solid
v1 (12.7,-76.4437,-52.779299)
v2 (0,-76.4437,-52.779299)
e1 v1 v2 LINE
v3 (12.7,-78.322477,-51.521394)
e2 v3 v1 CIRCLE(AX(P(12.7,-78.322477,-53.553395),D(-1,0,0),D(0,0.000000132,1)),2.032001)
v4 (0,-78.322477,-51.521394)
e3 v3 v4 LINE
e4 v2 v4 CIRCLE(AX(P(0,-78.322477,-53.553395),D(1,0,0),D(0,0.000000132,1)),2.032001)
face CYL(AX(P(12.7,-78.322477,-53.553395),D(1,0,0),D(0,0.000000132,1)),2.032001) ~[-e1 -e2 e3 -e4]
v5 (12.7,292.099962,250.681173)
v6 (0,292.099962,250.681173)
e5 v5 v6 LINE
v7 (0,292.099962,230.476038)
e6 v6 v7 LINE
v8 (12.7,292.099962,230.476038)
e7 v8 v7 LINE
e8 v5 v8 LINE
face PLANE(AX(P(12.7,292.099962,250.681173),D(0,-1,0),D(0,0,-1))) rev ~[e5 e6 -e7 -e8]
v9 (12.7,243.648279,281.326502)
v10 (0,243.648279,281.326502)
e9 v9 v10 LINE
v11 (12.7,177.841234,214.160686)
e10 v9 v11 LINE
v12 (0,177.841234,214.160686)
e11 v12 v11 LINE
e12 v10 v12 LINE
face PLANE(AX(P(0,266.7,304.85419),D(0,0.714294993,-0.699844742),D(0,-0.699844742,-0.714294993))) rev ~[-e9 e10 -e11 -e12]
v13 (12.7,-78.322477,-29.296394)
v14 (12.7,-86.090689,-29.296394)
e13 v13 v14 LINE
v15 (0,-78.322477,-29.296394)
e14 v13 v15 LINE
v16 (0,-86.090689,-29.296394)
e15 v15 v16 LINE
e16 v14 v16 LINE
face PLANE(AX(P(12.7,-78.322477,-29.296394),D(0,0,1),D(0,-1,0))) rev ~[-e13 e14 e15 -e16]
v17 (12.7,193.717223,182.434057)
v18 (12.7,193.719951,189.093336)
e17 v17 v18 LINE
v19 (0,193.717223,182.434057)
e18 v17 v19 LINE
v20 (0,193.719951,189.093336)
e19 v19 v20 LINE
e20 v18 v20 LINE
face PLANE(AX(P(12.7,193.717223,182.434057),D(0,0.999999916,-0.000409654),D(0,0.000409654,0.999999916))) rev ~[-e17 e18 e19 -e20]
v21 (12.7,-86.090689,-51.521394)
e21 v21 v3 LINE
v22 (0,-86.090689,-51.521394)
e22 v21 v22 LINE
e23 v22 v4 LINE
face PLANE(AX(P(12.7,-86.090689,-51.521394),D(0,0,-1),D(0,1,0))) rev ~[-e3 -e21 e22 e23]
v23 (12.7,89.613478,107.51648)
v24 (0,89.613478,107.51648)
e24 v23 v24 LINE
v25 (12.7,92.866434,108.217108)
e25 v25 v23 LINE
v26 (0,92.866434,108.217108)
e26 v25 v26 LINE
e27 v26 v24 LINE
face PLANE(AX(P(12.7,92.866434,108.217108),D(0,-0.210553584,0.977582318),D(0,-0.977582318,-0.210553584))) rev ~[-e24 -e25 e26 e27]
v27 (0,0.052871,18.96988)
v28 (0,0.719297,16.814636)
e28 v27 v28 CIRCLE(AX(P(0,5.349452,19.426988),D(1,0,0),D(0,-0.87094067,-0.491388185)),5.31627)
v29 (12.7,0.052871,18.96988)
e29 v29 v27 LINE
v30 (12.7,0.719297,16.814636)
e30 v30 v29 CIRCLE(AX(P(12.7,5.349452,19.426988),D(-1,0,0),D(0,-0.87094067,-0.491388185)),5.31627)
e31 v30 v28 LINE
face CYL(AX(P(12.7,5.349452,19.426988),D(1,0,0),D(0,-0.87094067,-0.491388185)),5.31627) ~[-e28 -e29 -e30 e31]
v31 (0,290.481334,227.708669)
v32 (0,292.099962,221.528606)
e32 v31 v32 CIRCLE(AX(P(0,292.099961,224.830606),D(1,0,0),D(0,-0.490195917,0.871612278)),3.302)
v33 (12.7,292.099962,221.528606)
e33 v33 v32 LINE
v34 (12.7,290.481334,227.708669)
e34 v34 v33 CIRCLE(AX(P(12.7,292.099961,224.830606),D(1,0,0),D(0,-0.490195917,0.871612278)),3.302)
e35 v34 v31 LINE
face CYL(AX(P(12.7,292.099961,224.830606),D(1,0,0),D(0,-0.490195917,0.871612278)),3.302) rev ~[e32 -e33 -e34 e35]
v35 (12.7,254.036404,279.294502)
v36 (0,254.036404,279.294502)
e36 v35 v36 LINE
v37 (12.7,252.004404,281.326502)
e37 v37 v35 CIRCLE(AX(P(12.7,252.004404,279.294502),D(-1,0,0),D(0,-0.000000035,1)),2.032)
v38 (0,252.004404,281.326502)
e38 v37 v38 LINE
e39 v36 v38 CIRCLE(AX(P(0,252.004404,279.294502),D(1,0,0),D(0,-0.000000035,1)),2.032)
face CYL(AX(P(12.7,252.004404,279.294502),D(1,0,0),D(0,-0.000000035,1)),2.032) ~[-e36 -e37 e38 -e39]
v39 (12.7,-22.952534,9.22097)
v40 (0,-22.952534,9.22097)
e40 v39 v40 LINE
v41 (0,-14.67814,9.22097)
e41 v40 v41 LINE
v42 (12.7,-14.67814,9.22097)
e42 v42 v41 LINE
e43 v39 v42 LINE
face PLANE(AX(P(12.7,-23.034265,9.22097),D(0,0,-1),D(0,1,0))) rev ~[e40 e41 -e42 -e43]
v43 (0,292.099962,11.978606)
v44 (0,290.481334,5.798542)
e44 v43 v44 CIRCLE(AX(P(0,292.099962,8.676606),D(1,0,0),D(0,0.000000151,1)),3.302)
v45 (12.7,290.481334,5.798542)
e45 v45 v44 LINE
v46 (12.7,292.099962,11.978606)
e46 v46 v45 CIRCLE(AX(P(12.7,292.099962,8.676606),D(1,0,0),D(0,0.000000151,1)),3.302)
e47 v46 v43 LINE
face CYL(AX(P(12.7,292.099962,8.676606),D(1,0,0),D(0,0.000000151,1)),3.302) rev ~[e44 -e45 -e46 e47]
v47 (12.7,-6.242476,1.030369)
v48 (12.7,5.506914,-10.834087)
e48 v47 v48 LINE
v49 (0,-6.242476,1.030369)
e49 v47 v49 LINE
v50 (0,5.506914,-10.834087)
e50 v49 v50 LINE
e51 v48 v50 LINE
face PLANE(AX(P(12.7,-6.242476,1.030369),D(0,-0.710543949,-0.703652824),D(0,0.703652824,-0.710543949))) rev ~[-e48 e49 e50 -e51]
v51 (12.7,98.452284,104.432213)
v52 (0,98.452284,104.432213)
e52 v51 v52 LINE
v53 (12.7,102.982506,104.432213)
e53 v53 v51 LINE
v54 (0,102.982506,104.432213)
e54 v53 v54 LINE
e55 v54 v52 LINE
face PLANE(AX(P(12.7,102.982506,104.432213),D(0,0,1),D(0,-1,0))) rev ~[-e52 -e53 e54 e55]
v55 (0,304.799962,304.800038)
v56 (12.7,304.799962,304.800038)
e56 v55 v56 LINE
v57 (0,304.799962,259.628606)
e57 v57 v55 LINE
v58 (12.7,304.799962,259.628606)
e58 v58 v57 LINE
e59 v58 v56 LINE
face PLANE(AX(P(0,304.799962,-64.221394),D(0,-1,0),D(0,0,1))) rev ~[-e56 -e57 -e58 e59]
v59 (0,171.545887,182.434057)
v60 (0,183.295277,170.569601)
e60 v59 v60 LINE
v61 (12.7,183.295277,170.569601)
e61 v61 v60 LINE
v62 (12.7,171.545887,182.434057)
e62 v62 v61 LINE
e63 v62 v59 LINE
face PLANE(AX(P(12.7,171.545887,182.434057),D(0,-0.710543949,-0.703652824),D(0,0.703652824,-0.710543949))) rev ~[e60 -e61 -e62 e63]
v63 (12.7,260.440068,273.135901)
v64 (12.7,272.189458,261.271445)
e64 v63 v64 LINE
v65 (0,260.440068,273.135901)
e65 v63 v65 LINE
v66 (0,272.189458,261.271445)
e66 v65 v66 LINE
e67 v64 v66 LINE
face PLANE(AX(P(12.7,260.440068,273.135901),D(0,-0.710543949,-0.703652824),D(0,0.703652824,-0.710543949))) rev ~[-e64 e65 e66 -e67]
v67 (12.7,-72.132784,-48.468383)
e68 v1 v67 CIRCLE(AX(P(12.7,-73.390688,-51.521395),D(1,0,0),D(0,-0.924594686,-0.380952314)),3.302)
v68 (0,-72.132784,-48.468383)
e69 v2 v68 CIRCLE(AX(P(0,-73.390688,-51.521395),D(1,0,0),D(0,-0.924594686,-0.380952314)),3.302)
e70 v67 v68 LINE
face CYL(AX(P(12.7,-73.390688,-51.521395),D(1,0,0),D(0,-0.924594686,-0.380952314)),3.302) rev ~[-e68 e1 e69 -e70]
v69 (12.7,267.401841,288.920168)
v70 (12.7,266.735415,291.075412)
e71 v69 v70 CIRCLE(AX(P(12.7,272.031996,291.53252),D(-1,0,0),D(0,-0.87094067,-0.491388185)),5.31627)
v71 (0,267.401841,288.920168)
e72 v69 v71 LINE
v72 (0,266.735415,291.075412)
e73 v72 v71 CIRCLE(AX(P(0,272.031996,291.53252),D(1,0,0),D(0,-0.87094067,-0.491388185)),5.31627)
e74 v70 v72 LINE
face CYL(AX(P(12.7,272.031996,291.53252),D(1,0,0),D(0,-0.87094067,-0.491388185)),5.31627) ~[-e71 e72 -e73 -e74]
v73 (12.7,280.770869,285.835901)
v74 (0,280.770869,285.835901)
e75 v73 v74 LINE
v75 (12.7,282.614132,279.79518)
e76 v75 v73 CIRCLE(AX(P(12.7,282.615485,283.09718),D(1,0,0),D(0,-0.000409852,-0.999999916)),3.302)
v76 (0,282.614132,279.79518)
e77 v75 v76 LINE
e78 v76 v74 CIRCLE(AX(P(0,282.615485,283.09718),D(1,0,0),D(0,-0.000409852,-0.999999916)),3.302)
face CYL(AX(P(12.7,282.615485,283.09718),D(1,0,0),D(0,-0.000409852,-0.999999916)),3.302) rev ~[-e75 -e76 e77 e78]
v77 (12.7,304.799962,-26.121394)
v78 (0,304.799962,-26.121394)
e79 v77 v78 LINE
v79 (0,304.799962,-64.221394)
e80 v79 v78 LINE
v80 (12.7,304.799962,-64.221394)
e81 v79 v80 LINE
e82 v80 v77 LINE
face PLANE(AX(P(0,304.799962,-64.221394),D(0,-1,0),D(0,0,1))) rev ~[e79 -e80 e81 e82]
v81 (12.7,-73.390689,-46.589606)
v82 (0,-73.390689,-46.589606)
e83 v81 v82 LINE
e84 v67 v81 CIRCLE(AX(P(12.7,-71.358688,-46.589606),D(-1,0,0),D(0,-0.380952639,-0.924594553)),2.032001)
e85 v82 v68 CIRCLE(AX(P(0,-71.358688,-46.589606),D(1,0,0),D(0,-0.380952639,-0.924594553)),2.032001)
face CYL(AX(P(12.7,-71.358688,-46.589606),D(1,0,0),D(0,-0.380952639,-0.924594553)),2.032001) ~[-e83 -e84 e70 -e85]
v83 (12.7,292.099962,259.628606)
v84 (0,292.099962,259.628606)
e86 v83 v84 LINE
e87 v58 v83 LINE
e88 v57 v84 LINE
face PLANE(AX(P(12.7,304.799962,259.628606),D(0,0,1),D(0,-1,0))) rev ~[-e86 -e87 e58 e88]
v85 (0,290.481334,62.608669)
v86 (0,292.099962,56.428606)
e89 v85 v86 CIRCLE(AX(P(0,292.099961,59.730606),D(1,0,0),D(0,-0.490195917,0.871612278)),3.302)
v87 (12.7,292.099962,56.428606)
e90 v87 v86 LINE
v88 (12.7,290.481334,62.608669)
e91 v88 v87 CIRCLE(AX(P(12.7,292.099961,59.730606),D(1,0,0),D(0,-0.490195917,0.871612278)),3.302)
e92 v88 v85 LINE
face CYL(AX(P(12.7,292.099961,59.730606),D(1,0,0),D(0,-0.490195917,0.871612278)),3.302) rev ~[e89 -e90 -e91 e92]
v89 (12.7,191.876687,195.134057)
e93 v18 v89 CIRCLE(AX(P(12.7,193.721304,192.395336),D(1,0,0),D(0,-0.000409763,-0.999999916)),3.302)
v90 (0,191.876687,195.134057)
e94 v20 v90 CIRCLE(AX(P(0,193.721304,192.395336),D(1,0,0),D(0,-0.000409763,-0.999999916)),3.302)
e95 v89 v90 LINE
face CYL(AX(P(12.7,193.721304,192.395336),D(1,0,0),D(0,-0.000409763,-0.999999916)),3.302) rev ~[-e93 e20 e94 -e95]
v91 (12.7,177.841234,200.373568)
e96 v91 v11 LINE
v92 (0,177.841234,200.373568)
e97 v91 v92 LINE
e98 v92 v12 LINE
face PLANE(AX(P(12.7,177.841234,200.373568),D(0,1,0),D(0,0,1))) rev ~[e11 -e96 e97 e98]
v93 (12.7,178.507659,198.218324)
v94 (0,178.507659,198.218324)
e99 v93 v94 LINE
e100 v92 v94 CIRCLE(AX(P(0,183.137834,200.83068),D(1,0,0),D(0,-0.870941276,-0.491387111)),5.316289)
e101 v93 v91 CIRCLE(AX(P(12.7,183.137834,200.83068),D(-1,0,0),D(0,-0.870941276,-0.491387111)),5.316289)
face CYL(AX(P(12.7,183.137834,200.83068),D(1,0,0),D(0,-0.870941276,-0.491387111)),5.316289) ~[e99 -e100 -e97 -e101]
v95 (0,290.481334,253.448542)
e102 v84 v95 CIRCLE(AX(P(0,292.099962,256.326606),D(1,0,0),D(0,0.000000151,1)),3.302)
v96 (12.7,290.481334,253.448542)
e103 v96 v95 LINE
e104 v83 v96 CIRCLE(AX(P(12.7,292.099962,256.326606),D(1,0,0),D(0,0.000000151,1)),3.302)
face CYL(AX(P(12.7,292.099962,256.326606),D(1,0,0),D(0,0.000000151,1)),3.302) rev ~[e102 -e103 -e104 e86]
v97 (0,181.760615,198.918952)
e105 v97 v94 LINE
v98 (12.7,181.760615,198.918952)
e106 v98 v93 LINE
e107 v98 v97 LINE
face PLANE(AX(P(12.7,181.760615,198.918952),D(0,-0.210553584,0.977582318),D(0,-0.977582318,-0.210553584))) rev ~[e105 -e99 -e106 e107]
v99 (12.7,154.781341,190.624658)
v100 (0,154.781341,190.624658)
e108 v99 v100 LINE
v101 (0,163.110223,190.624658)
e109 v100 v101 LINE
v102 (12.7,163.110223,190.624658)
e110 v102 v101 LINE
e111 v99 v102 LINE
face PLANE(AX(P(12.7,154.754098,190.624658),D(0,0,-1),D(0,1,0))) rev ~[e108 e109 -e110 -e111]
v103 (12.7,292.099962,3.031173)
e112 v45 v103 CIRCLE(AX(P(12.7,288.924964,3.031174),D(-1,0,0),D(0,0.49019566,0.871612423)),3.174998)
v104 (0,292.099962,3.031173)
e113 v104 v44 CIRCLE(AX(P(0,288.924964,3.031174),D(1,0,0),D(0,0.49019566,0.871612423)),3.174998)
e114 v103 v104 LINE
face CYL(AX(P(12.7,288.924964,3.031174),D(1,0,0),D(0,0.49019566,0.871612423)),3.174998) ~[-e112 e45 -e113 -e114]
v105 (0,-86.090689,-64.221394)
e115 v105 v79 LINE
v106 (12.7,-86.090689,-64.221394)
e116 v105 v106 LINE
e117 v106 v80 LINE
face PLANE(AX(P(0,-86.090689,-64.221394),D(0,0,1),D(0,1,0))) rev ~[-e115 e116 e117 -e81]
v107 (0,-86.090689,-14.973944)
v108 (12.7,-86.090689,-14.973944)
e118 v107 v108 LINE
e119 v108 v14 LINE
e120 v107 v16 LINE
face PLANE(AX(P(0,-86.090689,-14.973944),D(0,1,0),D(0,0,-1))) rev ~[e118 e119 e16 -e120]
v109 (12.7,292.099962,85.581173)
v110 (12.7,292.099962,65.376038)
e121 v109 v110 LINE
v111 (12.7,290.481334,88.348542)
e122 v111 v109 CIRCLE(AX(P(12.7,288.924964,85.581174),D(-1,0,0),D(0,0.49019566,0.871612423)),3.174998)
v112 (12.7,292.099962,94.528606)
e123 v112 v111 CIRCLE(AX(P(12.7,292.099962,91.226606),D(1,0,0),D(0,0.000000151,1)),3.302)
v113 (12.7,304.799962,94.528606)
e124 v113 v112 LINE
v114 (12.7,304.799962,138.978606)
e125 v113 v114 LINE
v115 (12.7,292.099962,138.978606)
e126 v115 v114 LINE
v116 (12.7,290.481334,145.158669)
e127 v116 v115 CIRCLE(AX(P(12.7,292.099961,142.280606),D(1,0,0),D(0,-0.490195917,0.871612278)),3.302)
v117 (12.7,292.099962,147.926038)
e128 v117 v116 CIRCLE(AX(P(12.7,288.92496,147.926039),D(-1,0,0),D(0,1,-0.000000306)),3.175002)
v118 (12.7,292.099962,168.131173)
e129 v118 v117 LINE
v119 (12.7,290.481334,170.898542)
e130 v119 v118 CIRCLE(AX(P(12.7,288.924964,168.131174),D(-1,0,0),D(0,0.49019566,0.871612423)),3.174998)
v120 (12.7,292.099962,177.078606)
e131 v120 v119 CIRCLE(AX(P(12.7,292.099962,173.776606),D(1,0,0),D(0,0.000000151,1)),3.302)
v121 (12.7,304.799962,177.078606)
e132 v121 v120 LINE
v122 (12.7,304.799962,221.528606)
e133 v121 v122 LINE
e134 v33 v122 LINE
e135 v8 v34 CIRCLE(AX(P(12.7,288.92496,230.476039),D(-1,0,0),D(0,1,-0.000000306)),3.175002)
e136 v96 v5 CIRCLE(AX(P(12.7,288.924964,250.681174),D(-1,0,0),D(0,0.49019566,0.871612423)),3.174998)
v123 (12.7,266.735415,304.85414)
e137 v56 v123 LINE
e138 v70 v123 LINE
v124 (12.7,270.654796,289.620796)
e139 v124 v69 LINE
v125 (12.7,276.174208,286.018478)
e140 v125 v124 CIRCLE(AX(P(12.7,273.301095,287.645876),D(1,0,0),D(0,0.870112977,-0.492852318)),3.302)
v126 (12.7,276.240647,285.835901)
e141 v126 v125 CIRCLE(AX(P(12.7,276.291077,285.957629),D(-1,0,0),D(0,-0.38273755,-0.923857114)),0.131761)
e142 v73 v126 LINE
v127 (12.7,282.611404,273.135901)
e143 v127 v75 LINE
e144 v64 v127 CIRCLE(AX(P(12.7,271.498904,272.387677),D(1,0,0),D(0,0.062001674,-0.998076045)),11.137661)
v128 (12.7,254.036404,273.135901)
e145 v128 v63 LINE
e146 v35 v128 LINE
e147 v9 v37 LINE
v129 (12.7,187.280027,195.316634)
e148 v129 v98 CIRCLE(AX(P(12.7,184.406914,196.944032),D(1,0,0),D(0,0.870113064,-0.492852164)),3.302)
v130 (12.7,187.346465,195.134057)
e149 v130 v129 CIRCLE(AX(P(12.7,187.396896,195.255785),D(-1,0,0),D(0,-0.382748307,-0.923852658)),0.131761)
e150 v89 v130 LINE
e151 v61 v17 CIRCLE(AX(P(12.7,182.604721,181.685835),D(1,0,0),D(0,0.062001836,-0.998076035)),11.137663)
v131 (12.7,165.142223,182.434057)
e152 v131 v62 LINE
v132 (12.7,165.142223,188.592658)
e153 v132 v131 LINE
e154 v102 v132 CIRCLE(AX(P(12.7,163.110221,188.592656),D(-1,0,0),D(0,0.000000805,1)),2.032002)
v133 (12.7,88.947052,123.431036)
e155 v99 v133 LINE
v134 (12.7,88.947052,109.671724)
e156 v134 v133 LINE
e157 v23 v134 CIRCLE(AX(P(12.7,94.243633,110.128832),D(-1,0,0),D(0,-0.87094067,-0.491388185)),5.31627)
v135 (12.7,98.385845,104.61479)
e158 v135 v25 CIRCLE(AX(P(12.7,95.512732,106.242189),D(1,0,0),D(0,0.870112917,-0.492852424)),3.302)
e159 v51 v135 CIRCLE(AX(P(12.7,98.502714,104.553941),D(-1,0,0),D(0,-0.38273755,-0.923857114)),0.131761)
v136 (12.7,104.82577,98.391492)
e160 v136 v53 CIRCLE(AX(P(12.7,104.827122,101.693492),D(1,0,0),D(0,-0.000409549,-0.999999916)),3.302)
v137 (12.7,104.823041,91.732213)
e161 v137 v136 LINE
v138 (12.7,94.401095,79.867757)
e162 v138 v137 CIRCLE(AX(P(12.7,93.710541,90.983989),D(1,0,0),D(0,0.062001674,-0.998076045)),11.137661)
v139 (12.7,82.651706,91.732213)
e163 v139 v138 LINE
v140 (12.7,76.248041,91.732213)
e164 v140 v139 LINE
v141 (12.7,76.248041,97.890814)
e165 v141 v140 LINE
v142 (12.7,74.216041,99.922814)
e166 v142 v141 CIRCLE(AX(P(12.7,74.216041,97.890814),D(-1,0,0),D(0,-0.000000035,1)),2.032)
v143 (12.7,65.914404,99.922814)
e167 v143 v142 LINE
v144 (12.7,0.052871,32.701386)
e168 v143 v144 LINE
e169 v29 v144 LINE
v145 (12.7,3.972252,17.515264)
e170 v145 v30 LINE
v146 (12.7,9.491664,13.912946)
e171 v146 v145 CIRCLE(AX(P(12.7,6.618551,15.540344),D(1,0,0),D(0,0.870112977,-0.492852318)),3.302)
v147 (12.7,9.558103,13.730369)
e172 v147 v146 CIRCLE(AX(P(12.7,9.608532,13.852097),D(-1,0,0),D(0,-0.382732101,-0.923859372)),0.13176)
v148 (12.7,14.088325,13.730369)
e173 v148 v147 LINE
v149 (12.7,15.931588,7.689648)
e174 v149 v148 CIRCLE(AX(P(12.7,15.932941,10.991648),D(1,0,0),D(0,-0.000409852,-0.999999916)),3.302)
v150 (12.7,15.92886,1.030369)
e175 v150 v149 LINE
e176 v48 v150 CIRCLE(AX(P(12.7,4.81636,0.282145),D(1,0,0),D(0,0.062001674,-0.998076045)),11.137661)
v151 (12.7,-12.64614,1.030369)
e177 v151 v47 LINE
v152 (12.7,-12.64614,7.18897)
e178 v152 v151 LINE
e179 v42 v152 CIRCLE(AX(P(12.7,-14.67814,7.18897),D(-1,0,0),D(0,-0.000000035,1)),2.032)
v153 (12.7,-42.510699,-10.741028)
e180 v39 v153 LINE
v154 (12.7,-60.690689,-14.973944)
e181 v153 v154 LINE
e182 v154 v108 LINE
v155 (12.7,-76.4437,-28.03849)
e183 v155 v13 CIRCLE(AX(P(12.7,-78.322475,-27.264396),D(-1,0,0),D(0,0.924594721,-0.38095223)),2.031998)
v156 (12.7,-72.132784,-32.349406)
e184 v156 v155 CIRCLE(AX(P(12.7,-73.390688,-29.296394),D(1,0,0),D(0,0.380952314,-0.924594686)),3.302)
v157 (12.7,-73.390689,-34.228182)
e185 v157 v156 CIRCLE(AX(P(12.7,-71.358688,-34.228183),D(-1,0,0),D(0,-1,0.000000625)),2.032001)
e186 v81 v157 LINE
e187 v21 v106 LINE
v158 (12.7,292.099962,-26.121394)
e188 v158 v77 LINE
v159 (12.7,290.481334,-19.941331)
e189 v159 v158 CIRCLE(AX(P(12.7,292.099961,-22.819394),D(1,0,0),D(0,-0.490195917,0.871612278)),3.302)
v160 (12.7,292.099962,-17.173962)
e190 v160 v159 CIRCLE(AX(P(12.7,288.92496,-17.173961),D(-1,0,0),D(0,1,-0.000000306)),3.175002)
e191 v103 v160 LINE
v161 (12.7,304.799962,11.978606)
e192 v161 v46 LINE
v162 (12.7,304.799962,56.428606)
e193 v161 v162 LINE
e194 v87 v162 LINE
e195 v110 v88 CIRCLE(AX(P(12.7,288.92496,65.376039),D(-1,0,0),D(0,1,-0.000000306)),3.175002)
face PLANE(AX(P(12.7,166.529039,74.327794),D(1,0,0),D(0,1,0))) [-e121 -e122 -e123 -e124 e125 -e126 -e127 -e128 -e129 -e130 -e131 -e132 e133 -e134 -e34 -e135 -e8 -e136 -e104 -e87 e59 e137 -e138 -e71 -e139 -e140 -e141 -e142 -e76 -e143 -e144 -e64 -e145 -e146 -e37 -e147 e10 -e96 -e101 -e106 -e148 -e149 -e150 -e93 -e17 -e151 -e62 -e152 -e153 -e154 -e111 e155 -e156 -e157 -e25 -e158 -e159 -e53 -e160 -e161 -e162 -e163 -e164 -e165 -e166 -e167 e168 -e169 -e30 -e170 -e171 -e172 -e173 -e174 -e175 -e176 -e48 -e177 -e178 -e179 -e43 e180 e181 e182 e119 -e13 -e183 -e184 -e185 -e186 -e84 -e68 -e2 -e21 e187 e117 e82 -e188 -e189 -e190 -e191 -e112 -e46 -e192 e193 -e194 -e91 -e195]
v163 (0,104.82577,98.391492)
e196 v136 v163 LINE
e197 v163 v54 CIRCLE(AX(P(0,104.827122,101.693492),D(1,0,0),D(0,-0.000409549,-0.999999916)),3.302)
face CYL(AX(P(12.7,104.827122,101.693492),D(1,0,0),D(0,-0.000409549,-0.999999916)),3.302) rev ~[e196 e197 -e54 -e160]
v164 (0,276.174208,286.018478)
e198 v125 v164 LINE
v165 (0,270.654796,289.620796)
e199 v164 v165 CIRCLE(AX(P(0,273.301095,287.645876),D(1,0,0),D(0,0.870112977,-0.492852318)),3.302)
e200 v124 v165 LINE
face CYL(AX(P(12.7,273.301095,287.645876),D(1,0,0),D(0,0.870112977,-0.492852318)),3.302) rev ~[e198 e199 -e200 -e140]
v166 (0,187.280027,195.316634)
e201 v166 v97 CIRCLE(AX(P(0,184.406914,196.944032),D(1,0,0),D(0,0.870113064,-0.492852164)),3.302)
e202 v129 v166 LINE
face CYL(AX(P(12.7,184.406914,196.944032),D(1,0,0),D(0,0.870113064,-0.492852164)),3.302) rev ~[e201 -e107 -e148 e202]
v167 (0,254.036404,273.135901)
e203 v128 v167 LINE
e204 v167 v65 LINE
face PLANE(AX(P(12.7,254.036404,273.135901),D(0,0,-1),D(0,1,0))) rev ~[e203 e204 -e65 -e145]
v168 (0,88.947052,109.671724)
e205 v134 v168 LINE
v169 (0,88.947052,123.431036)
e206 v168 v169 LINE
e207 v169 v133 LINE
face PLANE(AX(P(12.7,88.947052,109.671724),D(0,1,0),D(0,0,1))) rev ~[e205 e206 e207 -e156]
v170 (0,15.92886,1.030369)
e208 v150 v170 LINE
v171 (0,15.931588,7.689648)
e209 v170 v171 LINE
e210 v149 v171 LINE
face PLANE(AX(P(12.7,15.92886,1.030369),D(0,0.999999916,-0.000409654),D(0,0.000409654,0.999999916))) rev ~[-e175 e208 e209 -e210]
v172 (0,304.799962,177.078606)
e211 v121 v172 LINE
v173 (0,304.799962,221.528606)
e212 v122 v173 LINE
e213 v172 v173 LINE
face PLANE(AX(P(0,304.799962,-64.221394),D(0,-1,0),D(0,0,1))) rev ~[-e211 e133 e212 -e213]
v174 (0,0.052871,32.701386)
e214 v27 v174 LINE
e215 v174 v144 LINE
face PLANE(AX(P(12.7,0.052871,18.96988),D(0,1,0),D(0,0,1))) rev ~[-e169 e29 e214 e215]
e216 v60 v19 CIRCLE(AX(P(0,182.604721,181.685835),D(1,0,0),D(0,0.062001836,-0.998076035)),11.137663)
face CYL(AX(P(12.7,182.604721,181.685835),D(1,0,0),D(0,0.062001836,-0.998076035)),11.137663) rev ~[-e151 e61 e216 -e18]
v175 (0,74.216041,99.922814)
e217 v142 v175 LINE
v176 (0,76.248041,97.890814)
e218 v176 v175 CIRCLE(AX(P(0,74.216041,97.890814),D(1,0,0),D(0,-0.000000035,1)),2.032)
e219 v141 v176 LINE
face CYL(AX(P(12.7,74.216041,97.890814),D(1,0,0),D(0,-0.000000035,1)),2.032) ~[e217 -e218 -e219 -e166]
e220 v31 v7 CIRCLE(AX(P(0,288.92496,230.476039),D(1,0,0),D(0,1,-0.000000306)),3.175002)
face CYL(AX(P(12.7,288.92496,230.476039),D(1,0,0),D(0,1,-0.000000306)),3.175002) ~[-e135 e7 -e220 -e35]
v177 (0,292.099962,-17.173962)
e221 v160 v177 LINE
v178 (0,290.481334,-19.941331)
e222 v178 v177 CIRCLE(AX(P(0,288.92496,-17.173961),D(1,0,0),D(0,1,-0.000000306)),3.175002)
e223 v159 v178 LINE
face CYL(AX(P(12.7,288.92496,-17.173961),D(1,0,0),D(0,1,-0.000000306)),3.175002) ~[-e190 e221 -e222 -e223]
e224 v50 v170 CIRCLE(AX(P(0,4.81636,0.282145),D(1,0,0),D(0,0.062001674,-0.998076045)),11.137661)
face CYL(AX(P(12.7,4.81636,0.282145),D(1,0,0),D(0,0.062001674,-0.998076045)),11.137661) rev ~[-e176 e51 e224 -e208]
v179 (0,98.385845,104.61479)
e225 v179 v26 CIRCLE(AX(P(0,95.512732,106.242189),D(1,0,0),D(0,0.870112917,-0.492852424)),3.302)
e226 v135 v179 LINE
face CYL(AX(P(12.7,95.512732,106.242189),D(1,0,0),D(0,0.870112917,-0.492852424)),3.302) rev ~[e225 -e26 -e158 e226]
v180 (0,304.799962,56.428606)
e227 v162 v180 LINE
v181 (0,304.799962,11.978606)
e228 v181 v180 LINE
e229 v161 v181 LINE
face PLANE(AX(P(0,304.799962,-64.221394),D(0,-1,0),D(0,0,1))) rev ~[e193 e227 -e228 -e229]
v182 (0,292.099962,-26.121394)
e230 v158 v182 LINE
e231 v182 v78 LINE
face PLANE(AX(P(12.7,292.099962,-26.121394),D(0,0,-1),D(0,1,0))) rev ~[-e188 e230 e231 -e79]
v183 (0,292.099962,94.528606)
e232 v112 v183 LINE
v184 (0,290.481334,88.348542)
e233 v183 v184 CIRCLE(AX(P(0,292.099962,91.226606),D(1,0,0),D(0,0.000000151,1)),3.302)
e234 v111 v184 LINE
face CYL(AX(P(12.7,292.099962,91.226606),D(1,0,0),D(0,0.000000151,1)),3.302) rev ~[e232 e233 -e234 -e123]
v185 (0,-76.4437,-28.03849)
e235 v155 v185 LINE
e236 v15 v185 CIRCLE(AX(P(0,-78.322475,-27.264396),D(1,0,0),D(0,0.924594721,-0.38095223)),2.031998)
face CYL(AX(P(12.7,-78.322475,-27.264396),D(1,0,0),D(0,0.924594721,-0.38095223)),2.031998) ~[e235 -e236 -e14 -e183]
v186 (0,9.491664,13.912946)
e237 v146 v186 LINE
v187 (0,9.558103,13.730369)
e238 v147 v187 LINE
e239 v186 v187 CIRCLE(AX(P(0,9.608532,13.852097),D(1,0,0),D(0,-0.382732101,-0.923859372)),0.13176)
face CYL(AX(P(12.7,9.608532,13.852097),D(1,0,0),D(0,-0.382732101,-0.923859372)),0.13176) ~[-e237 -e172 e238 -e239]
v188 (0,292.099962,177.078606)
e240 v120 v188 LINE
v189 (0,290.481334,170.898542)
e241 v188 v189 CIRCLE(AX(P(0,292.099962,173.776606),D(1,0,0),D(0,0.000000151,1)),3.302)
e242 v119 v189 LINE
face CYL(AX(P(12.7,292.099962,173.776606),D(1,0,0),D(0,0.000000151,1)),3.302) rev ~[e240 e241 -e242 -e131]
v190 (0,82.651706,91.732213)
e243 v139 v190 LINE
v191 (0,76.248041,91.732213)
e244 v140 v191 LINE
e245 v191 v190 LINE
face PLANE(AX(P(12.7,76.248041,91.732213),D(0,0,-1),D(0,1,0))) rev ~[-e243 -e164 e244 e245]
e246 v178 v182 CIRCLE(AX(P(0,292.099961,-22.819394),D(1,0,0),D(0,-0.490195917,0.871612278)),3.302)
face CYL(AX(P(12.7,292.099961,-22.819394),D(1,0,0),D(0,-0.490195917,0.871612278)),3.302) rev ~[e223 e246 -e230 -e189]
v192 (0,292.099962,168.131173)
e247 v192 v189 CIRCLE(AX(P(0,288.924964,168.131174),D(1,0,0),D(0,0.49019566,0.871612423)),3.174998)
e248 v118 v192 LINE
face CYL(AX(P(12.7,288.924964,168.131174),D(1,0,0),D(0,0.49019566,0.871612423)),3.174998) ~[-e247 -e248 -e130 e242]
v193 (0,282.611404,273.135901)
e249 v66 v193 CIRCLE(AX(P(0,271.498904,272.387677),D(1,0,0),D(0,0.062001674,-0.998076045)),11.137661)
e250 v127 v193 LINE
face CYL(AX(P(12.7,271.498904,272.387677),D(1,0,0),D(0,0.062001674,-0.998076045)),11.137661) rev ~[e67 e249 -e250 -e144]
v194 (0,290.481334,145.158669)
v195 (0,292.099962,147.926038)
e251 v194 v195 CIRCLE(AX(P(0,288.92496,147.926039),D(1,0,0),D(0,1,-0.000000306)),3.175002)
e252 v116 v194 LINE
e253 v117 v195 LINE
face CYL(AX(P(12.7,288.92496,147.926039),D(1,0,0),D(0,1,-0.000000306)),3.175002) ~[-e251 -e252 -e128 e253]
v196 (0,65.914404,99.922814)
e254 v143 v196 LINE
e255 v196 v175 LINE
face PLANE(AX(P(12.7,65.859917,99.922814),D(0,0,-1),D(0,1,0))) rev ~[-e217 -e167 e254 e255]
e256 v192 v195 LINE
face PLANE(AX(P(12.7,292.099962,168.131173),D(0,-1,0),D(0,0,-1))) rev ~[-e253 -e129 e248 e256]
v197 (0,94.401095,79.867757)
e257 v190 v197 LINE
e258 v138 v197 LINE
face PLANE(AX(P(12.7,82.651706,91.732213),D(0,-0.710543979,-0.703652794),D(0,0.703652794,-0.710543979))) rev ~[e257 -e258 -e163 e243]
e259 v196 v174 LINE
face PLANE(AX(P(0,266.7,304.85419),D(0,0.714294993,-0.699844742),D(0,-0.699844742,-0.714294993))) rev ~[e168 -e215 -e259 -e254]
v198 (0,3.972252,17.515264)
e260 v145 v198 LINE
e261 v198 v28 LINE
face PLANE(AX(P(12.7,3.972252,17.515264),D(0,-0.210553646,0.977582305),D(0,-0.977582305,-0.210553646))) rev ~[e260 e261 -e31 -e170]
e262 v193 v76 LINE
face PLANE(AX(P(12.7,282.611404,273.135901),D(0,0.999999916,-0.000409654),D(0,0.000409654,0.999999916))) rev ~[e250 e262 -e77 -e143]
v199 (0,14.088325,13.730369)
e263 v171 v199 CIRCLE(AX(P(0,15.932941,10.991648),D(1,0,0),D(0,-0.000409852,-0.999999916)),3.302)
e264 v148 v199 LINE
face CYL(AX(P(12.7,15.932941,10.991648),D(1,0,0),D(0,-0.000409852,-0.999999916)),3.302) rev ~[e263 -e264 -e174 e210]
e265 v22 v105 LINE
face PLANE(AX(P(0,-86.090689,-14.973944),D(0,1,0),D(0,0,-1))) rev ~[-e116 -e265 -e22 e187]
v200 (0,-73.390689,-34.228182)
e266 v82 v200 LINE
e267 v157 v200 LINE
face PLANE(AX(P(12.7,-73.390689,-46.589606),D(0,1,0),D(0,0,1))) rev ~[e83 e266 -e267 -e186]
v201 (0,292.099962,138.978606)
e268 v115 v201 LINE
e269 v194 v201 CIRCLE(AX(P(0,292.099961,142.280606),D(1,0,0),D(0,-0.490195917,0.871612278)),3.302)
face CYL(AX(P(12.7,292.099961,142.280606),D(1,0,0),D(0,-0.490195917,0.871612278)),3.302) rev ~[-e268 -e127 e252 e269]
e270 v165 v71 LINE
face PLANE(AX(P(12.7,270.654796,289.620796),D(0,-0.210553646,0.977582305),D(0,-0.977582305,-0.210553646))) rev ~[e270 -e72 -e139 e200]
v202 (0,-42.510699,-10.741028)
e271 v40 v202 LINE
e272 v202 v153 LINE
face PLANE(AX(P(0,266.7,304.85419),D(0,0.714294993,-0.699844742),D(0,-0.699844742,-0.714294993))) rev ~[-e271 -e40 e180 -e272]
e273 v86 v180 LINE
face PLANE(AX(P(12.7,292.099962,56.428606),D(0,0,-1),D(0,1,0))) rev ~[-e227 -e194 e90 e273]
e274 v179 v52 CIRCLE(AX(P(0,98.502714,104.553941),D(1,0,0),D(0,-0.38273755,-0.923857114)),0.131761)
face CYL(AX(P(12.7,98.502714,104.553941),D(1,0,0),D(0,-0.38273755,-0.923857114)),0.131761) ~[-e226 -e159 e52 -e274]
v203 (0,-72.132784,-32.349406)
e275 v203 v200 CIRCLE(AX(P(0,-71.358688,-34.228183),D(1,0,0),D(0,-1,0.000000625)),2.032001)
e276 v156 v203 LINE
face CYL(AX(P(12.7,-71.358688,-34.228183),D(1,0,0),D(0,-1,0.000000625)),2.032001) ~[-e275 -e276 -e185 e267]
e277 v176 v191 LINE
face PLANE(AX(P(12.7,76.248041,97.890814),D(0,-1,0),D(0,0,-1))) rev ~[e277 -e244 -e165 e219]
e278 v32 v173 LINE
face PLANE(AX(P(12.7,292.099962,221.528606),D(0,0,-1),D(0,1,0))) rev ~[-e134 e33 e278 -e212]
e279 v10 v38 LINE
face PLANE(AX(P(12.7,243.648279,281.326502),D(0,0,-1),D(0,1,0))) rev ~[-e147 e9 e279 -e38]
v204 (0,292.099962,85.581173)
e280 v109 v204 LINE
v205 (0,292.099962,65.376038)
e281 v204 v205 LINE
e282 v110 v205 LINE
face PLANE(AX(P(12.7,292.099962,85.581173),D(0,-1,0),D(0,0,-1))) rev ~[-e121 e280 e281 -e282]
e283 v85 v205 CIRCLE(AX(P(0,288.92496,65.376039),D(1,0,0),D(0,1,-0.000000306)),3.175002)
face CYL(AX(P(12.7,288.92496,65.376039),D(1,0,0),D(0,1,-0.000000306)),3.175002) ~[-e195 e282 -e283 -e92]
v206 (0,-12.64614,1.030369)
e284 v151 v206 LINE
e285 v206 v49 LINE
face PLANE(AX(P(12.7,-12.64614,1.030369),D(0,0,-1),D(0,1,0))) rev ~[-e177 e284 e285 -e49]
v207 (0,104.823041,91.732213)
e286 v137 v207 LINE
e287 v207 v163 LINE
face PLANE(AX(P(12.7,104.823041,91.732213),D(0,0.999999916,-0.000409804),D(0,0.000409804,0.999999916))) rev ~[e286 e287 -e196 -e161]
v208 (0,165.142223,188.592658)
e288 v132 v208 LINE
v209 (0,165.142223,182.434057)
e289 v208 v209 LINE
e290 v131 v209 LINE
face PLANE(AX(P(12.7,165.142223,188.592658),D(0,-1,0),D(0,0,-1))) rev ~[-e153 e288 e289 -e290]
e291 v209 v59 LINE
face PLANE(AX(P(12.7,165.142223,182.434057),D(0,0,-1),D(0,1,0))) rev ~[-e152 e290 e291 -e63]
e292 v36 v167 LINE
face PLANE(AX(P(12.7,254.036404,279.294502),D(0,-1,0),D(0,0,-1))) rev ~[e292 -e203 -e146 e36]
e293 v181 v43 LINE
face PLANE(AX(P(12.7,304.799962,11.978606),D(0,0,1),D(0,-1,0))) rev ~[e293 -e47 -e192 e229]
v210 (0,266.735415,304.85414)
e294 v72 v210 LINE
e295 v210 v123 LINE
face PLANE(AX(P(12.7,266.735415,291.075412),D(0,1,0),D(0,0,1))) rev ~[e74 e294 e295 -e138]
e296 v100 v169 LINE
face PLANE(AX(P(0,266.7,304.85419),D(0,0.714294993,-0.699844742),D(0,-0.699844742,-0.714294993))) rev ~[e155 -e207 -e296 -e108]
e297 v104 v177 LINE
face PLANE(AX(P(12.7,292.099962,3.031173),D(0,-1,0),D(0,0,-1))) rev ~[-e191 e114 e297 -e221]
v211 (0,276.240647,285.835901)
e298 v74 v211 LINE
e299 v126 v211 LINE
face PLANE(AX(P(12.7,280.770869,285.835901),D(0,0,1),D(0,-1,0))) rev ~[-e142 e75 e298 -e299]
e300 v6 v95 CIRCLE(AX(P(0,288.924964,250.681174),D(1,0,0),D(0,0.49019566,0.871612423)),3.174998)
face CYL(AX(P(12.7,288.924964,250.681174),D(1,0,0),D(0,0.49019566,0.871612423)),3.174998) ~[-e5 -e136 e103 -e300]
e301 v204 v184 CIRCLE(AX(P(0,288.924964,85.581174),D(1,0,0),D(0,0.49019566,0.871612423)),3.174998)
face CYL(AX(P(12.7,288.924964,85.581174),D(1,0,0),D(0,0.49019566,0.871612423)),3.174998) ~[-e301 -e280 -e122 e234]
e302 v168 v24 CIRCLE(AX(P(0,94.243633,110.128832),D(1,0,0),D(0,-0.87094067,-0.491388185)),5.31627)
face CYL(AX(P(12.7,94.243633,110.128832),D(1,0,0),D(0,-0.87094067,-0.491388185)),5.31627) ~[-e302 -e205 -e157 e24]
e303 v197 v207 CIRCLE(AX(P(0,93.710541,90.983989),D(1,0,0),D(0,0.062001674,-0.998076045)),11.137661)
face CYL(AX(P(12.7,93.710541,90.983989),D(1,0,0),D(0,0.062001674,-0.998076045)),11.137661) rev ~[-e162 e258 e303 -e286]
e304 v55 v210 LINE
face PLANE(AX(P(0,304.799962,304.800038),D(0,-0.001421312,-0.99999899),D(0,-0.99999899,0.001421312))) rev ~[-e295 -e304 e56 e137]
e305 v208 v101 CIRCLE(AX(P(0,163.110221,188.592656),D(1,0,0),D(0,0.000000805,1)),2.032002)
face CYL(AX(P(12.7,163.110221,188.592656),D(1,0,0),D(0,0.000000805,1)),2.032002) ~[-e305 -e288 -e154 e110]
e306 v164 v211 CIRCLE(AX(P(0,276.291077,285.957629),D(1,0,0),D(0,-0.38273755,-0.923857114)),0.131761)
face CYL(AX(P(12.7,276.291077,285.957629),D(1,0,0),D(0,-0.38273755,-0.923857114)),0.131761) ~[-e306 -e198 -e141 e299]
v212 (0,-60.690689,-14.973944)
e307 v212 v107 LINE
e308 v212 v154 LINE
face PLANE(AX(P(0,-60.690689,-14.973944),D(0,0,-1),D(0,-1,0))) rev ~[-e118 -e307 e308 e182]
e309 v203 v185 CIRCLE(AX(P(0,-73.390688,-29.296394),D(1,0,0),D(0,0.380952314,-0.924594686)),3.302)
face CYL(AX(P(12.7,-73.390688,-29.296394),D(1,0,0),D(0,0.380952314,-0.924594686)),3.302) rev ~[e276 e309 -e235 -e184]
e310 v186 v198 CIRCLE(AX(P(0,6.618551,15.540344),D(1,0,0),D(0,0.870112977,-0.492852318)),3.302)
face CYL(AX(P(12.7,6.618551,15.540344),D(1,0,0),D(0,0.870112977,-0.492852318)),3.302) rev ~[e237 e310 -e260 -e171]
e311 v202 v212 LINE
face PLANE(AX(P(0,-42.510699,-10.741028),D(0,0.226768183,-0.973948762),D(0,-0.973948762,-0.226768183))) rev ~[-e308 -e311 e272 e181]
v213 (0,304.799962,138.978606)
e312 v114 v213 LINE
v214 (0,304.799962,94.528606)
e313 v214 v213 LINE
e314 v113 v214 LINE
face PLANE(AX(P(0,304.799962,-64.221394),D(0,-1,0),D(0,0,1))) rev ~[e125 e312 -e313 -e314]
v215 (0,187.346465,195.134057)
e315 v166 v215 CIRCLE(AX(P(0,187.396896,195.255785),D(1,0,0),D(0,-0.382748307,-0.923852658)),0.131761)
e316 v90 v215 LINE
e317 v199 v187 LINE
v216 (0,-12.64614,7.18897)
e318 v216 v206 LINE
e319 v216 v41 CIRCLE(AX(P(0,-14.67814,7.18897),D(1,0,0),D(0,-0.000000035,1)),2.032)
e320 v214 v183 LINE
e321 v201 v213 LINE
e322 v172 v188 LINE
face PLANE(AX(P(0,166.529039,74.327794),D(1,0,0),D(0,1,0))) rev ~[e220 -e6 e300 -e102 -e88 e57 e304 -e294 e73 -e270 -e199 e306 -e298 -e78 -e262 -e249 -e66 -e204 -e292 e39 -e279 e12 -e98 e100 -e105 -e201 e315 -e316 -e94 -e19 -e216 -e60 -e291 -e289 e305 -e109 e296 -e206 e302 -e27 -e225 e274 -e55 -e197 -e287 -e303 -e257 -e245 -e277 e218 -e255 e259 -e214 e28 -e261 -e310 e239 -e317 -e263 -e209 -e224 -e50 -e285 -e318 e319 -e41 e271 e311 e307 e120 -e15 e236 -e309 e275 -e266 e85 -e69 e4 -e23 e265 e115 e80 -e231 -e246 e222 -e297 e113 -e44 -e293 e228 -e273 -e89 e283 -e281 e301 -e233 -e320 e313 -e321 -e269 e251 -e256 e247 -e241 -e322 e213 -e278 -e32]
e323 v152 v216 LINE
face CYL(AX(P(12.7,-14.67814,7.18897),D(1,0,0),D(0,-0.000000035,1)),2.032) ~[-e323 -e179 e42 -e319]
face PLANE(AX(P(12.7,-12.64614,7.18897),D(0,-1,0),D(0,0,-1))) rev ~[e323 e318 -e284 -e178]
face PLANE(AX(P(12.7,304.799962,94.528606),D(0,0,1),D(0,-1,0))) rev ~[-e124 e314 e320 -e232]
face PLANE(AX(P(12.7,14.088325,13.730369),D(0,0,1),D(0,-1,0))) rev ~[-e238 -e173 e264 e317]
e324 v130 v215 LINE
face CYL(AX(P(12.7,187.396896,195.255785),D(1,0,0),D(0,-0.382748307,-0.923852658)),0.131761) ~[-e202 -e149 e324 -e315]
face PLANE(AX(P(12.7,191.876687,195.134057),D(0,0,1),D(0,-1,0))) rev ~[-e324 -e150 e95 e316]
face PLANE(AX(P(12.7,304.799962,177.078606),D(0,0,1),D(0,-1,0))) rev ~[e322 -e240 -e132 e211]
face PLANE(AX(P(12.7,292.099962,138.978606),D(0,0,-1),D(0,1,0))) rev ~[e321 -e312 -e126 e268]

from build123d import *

# Parameters (mm, degrees)
F1_DEPTH = 12.7
F2_DEPTH = 12.7
F4_DEPTH = 25.4
F6_DEPTH = 25.4
F8_DEPTH = 25.4


with BuildPart() as f1:
    # F0 (on Right) → F1 (new body)
    with BuildSketch(Plane.YZ):
        Polygon((304.799962, -64.221394), (304.799962, 304.800038), (266.7, 304.85419), (-42.510699, -10.741028), (-60.690689, -14.973944), (-60.690689, -19.789347), (-60.690689, -29.296394), (-60.690689, -64.221394), align=None)
        Polygon((-86.090689, -64.221394), (-60.690689, -64.221394), (-60.690689, -29.296394), (-60.690689, -19.789347), (-60.690689, -14.973944), (-86.090689, -14.973944), align=None)
    extrude(amount=F1_DEPTH)

    # F0 (on Right) → F2 (join)
    with BuildSketch(Plane.YZ):
        Polygon((304.799962, -64.221394), (304.799962, 304.800038), (266.7, 304.85419), (-42.510699, -10.741028), (-60.690689, -14.973944), (-60.690689, -19.789347), (-60.690689, -29.296394), (-60.690689, -64.221394), align=None)
        Polygon((-86.090689, -64.221394), (-60.690689, -64.221394), (-60.690689, -29.296394), (-60.690689, -19.789347), (-60.690689, -14.973944), (-86.090689, -14.973944), align=None)
    extrude(amount=F2_DEPTH)

    # F3 (on face) → F4 (cut)
    with BuildSketch(Plane.YZ.offset(12.7)):
        with BuildLine():
            Line((260.440068, 273.135901), (272.189458, 261.271445))
            ThreePointArc((272.189458, 261.271445), (279.866661, 265.037294), (282.611404, 273.135901))
            Line((282.611404, 273.135901), (282.614132, 279.79518))
            ThreePointArc((282.614132, 279.79518), (285.773725, 284.060884), (280.770869, 285.835901))
            Line((280.770869, 285.835901), (276.240647, 285.835901))
            ThreePointArc((276.240647, 285.835901), (276.167259, 285.912573), (276.174208, 286.018478))
            ThreePointArc((276.174208, 286.018478), (275.105821, 290.411047), (270.654796, 289.620796))
            Line((270.654796, 289.620796), (267.401841, 288.920168))
            ThreePointArc((267.401841, 288.920168), (266.952991, 289.962034), (266.735415, 291.075412))
            Line((266.735415, 291.075412), (266.735415, 304.926464))
            Line((266.735415, 304.926464), (243.648279, 281.326502))
            Line((243.648279, 281.326502), (252.004404, 281.326502))
            ThreePointArc((252.004404, 281.326502), (253.441245, 280.731343), (254.036404, 279.294502))
            Line((254.036404, 279.294502), (254.036404, 273.135901))
            Line((254.036404, 273.135901), (260.440068, 273.135901))
        make_face()
        with BuildLine():
            Line((177.841234, 200.373568), (177.841234, 214.224619))
            Line((177.841234, 214.224619), (154.754098, 190.624658))
            Line((154.754098, 190.624658), (163.110223, 190.624658))
            ThreePointArc((163.110223, 190.624658), (164.547063, 190.029499), (165.142223, 188.592658))
            Line((165.142223, 188.592658), (165.142223, 182.434057))
            Line((165.142223, 182.434057), (171.545887, 182.434057))
            Line((171.545887, 182.434057), (183.295277, 170.569601))
            ThreePointArc((183.295277, 170.569601), (190.972479, 174.33545), (193.717223, 182.434057))
            Line((193.717223, 182.434057), (193.719951, 189.093336))
            ThreePointArc((193.719951, 189.093336), (196.879544, 193.35904), (191.876687, 195.134057))
            Line((191.876687, 195.134057), (187.346465, 195.134057))
            ThreePointArc((187.346465, 195.134057), (187.273078, 195.210729), (187.280027, 195.316634))
            ThreePointArc((187.280027, 195.316634), (186.211639, 199.709203), (181.760615, 198.918952))
            Line((181.760615, 198.918952), (178.507659, 198.218324))
            ThreePointArc((178.507659, 198.218324), (178.05881, 199.26019), (177.841234, 200.373568))
        make_face()
        with BuildLine():
            Line((88.947052, 109.671724), (88.947052, 123.522775))
            Line((88.947052, 123.522775), (65.859917, 99.922814))
            Line((65.859917, 99.922814), (74.216041, 99.922814))
            ThreePointArc((74.216041, 99.922814), (75.652882, 99.327655), (76.248041, 97.890814))
            Line((76.248041, 97.890814), (76.248041, 91.732213))
            Line((76.248041, 91.732213), (82.651706, 91.732213))
            Line((82.651706, 91.732213), (94.401095, 79.867757))
            ThreePointArc((94.401095, 79.867757), (102.078298, 83.633606), (104.823041, 91.732213))
            Line((104.823041, 91.732213), (104.82577, 98.391492))
            ThreePointArc((104.82577, 98.391492), (107.985362, 102.657196), (102.982506, 104.432213))
            Line((102.982506, 104.432213), (98.452284, 104.432213))
            ThreePointArc((98.452284, 104.432213), (98.378896, 104.508885), (98.385845, 104.61479))
            ThreePointArc((98.385845, 104.61479), (97.317458, 109.007359), (92.866434, 108.217108))
            Line((92.866434, 108.217108), (89.613478, 107.51648))
            ThreePointArc((89.613478, 107.51648), (89.164628, 108.558346), (88.947052, 109.671724))
        make_face()
        with BuildLine():
            Line((0.052871, 18.96988), (0.052871, 32.820931))
            Line((0.052871, 32.820931), (-23.034265, 9.22097))
            Line((-23.034265, 9.22097), (-14.67814, 9.22097))
            ThreePointArc((-14.67814, 9.22097), (-13.241299, 8.625811), (-12.64614, 7.18897))
            Line((-12.64614, 7.18897), (-12.64614, 1.030369))
            Line((-12.64614, 1.030369), (-6.242476, 1.030369))
            Line((-6.242476, 1.030369), (5.506914, -10.834087))
            ThreePointArc((5.506914, -10.834087), (13.184117, -7.068238), (15.92886, 1.030369))
            Line((15.92886, 1.030369), (15.931588, 7.689648))
            ThreePointArc((15.931588, 7.689648), (19.091181, 11.955352), (14.088325, 13.730369))
            Line((14.088325, 13.730369), (9.558103, 13.730369))
            ThreePointArc((9.558103, 13.730369), (9.484715, 13.80704), (9.491664, 13.912946))
            ThreePointArc((9.491664, 13.912946), (8.423277, 18.305515), (3.972252, 17.515264))
            Line((3.972252, 17.515264), (0.719297, 16.814636))
            ThreePointArc((0.719297, 16.814636), (0.270447, 17.856502), (0.052871, 18.96988))
        make_face()
    extrude(amount=-F4_DEPTH, mode=Mode.SUBTRACT)

    # F5 (on face) → F6 (cut)
    with BuildSketch(Plane.YZ.offset(12.7)):
        with BuildLine():
            Line((292.099962, -26.121394), (304.799962, -26.121394))
            Line((304.799962, -26.121394), (304.799962, 11.978606))
            Line((304.799962, 11.978606), (292.099962, 11.978606))
            ThreePointArc((292.099962, 11.978606), (288.905703, 9.513217), (290.481334, 5.798542))
            ThreePointArc((290.481334, 5.798542), (291.665592, 4.634162), (292.099962, 3.031173))
            Line((292.099962, 3.031173), (292.099962, -17.173962))
            ThreePointArc((292.099962, -17.173962), (291.665592, -18.77695), (290.481334, -19.941331))
            ThreePointArc((290.481334, -19.941331), (288.905703, -23.656006), (292.099962, -26.121394))
        make_face()
        with BuildLine():
            Line((304.799962, 94.528606), (292.099962, 94.528606))
            ThreePointArc((292.099962, 94.528606), (288.905703, 92.063217), (290.481334, 88.348542))
            ThreePointArc((290.481334, 88.348542), (291.665592, 87.184162), (292.099962, 85.581173))
            Line((292.099962, 85.581173), (292.099962, 65.376038))
            ThreePointArc((292.099962, 65.376038), (291.665592, 63.77305), (290.481334, 62.608669))
            ThreePointArc((290.481334, 62.608669), (288.905703, 58.893994), (292.099962, 56.428606))
            Line((292.099962, 56.428606), (304.799962, 56.428606))
            Line((304.799962, 56.428606), (304.799962, 94.528606))
        make_face()
        with BuildLine():
            Line((304.799962, 177.078606), (292.099962, 177.078606))
            ThreePointArc((292.099962, 177.078606), (288.905703, 174.613217), (290.481334, 170.898542))
            ThreePointArc((290.481334, 170.898542), (291.665592, 169.734162), (292.099962, 168.131173))
            Line((292.099962, 168.131173), (292.099962, 147.926038))
            ThreePointArc((292.099962, 147.926038), (291.665592, 146.32305), (290.481334, 145.158669))
            ThreePointArc((290.481334, 145.158669), (288.905703, 141.443994), (292.099962, 138.978606))
            Line((292.099962, 138.978606), (304.799962, 138.978606))
            Line((304.799962, 138.978606), (304.799962, 177.078606))
        make_face()
        with BuildLine():
            Line((304.799962, 259.628606), (292.099962, 259.628606))
            ThreePointArc((292.099962, 259.628606), (288.905703, 257.163217), (290.481334, 253.448542))
            ThreePointArc((290.481334, 253.448542), (291.665592, 252.284162), (292.099962, 250.681173))
            Line((292.099962, 250.681173), (292.099962, 230.476038))
            ThreePointArc((292.099962, 230.476038), (291.665592, 228.87305), (290.481334, 227.708669))
            ThreePointArc((290.481334, 227.708669), (288.905703, 223.993994), (292.099962, 221.528606))
            Line((292.099962, 221.528606), (304.799962, 221.528606))
            Line((304.799962, 221.528606), (304.799962, 259.628606))
        make_face()
    extrude(amount=-F6_DEPTH, mode=Mode.SUBTRACT)

    # F7 (on face) → F8 (cut)
    with BuildSketch(Plane.YZ.offset(12.7)):
        with BuildLine():
            Line((-78.322477, -29.296394), (-86.090689, -29.296394))
            Line((-86.090689, -29.296394), (-86.090689, -51.521394))
            Line((-86.090689, -51.521394), (-78.322477, -51.521394))
            ThreePointArc((-78.322477, -51.521394), (-77.191976, -51.864906), (-76.4437, -52.779299))
            ThreePointArc((-76.4437, -52.779299), (-71.055822, -53.856261), (-72.132784, -48.468383))
            ThreePointArc((-72.132784, -48.468383), (-73.047177, -47.720107), (-73.390689, -46.589606))
            Line((-73.390689, -46.589606), (-73.390689, -34.228182))
            ThreePointArc((-73.390689, -34.228182), (-73.047177, -33.097682), (-72.132784, -32.349406))
            ThreePointArc((-72.132784, -32.349406), (-71.055822, -26.961528), (-76.4437, -28.03849))
            ThreePointArc((-76.4437, -28.03849), (-77.191976, -28.952883), (-78.322477, -29.296394))
        make_face()
    extrude(amount=-F8_DEPTH, mode=Mode.SUBTRACT)


solid = f1.part
